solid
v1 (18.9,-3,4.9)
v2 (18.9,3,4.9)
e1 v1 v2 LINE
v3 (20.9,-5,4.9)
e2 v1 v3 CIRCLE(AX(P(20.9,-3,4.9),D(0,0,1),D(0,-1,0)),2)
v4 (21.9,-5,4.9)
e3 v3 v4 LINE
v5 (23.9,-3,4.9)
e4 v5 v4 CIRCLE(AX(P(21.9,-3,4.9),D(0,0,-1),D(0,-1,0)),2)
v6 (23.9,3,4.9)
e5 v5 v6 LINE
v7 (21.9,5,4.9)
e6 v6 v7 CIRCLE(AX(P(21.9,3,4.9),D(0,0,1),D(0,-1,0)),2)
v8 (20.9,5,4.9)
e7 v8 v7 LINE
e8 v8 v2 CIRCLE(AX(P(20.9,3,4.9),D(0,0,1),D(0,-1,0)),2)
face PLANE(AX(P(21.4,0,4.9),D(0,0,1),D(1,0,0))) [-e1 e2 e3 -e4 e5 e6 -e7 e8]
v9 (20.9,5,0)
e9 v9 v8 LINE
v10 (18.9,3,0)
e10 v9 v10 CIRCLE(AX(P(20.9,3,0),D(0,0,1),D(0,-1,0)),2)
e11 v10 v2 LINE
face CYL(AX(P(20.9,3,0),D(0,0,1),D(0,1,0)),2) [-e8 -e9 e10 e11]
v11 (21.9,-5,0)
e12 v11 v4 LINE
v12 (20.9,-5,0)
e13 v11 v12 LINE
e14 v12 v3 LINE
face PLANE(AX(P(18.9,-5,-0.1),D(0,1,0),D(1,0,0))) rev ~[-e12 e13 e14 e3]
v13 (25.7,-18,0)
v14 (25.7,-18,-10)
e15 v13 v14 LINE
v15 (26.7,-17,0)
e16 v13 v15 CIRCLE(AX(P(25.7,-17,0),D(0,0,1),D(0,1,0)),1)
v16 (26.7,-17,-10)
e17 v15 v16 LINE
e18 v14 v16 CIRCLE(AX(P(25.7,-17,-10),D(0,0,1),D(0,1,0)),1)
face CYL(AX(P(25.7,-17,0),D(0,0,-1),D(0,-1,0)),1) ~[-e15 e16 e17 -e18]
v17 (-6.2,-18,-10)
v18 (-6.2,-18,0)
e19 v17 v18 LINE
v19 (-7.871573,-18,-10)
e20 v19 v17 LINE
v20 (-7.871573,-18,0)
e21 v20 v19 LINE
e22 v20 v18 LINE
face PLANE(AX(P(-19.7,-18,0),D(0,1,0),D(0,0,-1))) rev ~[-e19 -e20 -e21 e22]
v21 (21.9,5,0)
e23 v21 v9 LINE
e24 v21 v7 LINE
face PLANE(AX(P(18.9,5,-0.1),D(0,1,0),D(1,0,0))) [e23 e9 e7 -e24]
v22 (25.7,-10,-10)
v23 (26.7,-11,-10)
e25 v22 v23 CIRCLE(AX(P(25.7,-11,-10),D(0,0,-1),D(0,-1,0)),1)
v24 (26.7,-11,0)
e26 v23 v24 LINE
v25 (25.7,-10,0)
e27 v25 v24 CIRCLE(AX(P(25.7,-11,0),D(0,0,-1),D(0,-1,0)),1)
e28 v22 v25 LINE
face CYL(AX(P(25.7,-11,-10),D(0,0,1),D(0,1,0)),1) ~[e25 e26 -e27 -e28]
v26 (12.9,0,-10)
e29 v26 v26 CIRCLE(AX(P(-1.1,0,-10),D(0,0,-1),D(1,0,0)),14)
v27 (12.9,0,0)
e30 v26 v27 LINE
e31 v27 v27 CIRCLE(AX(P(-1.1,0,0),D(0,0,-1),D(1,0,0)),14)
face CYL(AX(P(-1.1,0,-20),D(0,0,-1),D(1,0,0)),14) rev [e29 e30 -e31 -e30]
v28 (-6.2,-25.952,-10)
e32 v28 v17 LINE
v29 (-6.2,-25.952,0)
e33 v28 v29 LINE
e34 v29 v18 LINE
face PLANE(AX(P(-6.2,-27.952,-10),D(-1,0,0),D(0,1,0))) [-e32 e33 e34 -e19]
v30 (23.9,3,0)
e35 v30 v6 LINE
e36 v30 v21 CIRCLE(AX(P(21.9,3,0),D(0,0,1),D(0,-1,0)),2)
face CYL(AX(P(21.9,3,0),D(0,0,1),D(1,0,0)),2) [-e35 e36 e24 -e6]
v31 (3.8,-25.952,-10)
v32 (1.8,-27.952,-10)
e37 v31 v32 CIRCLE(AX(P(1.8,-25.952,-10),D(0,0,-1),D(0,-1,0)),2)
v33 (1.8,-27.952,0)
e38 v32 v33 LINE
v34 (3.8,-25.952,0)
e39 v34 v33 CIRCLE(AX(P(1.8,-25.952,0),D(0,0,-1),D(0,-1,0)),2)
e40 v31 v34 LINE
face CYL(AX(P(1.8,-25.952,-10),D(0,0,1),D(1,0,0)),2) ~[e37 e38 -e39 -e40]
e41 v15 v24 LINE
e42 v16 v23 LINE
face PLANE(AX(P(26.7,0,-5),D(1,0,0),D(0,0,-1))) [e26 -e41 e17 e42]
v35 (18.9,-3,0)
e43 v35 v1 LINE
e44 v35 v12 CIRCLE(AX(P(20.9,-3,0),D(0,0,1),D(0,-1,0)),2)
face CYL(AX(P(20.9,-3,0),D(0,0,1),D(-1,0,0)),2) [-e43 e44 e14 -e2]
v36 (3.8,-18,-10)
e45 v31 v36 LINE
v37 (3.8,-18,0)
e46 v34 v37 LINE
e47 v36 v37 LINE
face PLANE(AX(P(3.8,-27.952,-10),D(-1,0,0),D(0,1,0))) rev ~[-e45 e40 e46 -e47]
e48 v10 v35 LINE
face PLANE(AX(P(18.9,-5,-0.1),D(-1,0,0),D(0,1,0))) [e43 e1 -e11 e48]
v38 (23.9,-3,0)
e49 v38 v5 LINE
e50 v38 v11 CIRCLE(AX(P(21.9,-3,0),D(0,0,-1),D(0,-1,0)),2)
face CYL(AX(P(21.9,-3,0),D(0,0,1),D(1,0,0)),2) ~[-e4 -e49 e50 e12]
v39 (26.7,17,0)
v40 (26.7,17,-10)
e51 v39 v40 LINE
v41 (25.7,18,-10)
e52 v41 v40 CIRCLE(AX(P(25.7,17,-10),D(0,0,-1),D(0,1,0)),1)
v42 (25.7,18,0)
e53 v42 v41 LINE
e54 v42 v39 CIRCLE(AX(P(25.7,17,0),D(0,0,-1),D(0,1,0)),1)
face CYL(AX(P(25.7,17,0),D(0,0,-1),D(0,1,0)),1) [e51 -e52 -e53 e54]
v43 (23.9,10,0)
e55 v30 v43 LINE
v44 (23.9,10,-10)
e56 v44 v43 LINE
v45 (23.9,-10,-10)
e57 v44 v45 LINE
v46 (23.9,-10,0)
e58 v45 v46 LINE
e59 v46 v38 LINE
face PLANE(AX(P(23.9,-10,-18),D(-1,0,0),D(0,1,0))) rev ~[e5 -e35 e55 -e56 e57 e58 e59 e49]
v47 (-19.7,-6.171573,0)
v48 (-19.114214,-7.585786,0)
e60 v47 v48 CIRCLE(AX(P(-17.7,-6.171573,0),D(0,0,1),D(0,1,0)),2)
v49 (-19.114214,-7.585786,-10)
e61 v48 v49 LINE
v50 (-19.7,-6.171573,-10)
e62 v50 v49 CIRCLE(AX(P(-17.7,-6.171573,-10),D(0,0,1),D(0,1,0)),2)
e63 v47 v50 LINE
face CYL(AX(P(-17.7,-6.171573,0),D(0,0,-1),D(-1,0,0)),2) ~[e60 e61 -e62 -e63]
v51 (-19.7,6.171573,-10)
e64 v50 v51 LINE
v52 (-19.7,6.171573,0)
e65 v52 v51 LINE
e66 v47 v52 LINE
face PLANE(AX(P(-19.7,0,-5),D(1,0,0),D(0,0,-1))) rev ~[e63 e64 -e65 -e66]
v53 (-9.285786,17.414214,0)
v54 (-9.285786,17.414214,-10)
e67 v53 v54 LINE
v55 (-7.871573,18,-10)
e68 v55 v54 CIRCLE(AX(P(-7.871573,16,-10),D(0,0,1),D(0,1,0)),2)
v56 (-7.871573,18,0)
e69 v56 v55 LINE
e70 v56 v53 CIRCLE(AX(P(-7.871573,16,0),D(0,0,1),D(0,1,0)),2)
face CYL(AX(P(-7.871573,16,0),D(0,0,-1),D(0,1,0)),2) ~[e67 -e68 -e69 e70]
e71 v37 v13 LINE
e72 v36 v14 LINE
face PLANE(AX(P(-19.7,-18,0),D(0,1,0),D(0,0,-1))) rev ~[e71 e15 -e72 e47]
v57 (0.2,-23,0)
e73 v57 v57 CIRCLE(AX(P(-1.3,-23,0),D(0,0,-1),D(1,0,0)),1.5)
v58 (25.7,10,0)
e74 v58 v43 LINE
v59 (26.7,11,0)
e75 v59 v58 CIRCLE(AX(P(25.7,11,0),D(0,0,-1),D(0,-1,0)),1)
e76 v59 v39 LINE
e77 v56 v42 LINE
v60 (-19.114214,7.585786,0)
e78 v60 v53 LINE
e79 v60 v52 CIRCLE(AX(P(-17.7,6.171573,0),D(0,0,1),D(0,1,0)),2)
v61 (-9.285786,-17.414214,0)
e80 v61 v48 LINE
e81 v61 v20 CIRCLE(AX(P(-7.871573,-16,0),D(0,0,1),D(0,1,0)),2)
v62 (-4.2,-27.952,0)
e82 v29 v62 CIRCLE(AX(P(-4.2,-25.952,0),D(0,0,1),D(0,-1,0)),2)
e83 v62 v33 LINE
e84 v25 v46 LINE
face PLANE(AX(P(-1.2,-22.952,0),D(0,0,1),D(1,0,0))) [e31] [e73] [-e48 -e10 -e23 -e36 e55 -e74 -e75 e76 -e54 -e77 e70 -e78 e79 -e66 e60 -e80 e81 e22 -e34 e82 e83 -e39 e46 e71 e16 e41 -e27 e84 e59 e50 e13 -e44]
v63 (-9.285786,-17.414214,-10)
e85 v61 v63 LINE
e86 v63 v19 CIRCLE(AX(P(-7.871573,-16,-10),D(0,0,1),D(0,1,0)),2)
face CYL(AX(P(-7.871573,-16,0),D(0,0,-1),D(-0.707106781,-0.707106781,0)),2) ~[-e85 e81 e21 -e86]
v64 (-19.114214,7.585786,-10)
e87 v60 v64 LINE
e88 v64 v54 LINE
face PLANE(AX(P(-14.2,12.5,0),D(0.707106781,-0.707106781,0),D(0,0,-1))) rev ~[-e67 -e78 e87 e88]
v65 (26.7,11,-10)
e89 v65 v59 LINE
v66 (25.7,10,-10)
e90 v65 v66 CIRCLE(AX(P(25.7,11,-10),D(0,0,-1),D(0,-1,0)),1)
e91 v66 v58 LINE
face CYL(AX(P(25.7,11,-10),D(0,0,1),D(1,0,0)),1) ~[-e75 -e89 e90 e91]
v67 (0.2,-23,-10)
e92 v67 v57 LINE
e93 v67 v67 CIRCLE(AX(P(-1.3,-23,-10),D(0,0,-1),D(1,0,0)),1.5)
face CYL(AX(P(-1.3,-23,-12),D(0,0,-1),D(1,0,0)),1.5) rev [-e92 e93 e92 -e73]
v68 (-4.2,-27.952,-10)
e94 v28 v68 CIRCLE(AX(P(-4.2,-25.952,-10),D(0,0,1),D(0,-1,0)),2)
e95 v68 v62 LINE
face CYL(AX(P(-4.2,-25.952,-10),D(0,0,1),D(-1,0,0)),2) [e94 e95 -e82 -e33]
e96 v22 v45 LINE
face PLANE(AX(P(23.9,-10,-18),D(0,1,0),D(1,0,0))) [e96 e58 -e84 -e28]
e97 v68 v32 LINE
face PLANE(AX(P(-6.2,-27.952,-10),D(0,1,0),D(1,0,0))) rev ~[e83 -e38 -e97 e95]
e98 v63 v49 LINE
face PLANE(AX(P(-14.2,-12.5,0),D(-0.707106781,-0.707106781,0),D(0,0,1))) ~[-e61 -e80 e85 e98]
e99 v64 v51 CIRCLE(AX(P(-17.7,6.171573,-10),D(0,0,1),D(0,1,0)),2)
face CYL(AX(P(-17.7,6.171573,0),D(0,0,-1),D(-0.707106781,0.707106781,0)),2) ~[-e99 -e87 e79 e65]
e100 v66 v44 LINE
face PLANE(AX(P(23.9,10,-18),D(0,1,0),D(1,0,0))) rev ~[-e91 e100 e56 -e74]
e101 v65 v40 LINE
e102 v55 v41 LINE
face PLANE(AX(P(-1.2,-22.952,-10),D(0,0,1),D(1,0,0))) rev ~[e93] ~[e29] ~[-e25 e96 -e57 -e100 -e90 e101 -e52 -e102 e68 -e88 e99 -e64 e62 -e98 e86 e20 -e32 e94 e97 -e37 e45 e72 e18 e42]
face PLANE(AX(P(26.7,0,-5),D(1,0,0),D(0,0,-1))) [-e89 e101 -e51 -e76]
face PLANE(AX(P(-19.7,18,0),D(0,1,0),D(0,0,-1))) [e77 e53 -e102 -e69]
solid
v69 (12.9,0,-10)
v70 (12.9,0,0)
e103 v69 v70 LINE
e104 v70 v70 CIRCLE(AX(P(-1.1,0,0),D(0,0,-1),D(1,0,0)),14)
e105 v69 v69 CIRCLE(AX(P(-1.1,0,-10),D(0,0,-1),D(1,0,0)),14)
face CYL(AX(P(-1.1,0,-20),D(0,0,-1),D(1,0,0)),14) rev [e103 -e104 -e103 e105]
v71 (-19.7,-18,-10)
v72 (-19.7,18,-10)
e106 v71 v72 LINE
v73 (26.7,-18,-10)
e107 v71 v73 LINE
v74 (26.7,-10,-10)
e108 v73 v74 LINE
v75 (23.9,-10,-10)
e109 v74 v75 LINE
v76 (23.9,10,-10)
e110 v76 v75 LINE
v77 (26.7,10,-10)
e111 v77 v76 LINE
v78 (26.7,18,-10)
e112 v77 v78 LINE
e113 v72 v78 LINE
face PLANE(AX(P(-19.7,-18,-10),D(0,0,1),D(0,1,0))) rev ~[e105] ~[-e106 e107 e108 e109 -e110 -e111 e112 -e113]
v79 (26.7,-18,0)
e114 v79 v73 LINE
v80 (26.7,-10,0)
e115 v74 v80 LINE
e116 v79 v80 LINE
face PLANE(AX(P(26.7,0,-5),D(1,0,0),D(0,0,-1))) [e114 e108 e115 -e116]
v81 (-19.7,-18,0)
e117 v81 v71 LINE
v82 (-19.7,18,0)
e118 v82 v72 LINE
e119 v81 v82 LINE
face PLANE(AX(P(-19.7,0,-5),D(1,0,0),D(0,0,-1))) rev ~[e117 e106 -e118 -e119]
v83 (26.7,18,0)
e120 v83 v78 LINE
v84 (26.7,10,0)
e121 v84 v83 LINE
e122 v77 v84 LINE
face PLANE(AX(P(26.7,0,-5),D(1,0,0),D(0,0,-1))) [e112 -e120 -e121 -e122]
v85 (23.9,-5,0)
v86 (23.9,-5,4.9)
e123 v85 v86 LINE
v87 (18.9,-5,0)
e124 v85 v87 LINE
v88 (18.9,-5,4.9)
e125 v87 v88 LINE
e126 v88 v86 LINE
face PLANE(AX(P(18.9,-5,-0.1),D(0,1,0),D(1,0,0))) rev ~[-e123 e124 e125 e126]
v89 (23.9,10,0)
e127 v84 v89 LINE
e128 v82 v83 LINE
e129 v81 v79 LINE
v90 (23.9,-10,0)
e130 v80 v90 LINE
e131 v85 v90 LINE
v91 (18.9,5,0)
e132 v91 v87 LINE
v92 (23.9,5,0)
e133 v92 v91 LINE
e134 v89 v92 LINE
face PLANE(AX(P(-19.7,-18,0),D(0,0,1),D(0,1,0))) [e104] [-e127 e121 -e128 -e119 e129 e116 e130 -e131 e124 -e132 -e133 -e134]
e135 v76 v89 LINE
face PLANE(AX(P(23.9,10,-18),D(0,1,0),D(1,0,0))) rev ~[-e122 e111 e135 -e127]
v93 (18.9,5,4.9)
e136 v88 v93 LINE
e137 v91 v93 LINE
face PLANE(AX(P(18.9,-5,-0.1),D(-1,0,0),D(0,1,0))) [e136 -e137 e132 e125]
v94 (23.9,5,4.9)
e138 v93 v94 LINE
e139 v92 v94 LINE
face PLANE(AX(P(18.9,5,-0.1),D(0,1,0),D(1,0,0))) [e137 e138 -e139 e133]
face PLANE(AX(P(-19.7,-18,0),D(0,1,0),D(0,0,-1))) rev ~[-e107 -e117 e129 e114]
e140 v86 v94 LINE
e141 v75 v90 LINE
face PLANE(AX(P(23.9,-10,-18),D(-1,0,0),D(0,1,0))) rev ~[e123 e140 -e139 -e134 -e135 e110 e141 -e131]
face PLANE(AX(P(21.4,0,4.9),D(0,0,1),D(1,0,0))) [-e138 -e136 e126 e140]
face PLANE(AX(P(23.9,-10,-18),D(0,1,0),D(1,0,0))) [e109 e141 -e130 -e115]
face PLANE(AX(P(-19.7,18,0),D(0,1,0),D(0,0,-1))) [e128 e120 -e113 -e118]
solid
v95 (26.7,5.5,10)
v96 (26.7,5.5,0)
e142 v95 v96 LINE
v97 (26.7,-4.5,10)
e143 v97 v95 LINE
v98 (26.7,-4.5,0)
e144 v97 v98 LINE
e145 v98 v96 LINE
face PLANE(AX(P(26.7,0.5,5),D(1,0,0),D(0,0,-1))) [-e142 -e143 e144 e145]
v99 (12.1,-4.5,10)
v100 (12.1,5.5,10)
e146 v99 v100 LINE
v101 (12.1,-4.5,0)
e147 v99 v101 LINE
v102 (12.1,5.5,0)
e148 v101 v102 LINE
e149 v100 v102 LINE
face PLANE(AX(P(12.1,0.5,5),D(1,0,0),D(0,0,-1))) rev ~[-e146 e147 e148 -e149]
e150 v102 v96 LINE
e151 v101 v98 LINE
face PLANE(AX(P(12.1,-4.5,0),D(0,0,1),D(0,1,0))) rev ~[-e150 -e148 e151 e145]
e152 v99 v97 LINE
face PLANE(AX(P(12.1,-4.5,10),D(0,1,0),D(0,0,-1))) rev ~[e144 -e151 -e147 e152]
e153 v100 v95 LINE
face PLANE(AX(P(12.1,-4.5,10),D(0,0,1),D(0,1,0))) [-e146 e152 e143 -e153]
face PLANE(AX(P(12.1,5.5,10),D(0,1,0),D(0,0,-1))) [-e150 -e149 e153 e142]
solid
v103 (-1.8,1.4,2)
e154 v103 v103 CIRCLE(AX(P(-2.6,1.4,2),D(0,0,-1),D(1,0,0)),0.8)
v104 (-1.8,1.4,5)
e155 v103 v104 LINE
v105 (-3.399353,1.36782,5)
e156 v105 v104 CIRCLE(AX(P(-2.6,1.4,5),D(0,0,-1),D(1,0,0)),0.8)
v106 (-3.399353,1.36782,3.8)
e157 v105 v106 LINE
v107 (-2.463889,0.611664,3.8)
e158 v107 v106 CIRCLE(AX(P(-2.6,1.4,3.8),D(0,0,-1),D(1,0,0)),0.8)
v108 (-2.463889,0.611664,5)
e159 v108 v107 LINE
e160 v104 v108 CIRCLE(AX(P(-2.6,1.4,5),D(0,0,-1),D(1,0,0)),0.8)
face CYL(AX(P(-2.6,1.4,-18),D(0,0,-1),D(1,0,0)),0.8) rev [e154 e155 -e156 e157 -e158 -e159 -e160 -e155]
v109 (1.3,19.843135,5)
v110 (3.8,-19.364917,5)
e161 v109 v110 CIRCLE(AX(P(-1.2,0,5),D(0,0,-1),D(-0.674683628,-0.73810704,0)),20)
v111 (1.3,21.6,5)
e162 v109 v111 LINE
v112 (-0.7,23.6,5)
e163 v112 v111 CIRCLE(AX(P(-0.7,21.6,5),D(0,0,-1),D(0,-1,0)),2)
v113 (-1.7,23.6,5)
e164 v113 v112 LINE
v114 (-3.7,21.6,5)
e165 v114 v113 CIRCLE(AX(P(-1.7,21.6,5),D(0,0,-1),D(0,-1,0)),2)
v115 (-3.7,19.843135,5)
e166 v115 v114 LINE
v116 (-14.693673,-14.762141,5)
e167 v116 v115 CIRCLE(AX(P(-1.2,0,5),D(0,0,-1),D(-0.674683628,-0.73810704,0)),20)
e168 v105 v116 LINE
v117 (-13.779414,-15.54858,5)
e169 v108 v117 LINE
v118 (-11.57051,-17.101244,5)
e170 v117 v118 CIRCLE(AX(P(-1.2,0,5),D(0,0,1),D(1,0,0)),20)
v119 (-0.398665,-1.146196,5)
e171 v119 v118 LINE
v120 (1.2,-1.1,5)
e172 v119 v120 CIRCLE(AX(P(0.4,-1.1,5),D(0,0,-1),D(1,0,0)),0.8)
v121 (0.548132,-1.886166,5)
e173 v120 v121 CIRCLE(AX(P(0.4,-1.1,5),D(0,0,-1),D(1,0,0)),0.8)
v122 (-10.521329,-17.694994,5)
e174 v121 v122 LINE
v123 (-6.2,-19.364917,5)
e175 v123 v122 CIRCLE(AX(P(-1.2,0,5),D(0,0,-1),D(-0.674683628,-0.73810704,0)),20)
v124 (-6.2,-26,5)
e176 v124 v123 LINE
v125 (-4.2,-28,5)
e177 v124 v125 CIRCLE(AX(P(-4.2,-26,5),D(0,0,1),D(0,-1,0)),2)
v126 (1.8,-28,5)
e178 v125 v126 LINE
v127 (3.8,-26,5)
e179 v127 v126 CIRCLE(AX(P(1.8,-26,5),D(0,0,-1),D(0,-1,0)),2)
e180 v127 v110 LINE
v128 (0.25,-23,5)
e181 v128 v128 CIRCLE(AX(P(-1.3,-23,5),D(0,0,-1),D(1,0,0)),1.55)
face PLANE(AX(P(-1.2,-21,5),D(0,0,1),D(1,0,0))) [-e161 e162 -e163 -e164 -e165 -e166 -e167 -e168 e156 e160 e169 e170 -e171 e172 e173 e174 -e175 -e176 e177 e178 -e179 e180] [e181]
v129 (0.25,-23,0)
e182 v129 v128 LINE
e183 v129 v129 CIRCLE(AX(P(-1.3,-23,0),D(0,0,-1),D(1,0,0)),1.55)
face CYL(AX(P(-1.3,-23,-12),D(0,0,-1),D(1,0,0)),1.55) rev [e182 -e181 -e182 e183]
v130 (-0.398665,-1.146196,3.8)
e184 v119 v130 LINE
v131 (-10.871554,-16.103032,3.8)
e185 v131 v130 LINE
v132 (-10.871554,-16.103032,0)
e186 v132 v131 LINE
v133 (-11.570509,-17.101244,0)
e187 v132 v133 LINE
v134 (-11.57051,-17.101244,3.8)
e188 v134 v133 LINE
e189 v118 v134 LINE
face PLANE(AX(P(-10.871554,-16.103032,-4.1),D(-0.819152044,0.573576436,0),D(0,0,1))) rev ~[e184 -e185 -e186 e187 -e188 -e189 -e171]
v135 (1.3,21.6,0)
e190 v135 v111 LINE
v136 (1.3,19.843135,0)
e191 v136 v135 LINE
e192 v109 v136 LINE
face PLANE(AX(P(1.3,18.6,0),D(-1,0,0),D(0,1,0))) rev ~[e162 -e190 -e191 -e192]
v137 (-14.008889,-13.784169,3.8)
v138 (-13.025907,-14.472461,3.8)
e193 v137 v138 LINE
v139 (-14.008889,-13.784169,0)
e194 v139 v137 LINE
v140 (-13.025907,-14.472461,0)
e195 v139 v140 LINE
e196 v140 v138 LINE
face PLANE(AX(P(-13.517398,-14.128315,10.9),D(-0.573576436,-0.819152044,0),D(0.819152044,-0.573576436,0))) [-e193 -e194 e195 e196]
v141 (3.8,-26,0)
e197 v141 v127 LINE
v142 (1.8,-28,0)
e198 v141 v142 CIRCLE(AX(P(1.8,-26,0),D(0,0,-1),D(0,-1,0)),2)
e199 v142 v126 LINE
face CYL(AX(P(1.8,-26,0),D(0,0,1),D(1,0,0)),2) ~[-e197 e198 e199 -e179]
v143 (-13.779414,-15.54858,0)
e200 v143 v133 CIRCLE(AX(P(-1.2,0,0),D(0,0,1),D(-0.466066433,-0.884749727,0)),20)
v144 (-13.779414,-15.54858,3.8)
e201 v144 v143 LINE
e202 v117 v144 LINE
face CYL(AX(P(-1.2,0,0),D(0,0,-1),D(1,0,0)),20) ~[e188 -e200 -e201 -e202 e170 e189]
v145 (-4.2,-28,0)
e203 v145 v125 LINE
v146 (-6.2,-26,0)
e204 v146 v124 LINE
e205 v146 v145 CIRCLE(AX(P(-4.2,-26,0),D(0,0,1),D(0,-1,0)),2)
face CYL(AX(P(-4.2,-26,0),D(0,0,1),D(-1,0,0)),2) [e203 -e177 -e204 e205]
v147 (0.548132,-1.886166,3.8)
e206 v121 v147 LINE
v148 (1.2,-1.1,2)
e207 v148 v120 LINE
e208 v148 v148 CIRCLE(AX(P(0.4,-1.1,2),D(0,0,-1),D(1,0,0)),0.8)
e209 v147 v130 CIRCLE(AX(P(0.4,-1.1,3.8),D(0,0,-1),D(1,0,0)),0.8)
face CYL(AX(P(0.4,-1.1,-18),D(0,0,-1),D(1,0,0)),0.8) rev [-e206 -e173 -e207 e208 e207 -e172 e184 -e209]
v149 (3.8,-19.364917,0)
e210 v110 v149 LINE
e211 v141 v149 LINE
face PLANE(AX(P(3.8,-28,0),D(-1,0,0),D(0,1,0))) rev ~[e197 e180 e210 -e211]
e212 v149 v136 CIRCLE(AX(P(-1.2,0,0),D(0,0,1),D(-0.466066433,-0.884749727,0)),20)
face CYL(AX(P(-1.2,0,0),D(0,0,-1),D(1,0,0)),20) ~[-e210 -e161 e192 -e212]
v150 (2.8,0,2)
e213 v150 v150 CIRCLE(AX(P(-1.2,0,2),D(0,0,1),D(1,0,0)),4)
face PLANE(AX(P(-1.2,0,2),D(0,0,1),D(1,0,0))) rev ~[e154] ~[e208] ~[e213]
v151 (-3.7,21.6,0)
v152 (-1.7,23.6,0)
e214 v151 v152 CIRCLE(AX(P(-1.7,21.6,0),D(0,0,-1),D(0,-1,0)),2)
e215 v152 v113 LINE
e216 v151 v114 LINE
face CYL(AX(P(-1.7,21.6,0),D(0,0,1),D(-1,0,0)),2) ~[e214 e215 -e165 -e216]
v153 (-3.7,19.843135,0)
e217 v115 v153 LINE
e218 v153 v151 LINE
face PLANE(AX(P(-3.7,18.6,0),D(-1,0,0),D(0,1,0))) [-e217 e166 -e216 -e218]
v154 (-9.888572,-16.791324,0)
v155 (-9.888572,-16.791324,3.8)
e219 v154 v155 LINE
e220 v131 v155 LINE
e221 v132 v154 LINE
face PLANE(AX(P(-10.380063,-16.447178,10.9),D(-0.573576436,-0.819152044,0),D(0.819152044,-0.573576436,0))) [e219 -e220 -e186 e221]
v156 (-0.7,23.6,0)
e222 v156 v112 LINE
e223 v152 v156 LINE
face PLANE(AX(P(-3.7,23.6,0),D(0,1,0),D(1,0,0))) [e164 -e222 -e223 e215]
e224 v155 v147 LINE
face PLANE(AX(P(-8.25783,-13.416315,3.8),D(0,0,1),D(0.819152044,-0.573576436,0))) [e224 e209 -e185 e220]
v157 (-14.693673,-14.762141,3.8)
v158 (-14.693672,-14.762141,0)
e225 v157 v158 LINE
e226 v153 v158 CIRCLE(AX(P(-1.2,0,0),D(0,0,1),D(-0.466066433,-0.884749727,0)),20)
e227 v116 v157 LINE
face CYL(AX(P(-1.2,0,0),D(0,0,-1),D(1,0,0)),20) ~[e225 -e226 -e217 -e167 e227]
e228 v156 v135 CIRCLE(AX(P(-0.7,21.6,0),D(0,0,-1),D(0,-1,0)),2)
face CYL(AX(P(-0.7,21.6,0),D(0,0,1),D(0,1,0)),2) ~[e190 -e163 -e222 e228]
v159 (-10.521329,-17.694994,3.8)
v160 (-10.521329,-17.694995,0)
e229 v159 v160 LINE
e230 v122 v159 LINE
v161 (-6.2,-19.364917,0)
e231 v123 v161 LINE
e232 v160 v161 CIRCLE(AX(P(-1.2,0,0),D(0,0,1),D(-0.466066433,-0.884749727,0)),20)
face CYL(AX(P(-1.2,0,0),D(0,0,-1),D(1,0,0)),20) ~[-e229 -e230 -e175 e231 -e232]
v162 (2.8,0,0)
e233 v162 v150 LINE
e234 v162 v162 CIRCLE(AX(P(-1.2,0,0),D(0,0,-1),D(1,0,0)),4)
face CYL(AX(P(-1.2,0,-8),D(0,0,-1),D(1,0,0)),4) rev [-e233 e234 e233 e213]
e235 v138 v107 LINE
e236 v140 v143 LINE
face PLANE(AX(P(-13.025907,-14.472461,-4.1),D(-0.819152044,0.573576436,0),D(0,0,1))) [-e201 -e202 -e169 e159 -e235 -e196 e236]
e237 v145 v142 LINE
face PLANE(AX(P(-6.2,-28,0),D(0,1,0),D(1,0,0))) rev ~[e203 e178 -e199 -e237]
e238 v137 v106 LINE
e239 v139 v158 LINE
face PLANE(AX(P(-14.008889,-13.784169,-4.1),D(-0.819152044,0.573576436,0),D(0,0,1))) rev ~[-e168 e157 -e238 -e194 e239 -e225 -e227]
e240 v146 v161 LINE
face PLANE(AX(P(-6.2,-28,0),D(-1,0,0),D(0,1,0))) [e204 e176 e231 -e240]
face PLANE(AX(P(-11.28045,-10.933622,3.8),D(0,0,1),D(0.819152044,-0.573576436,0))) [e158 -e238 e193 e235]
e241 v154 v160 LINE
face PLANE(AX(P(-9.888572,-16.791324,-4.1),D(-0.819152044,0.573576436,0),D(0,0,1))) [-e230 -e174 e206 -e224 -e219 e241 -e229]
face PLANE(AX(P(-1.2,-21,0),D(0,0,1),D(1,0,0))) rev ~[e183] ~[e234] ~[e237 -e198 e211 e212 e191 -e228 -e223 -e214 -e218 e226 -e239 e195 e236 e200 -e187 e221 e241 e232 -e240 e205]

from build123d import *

# Parameters (mm, degrees)
BOX001_W               = 10
BOX001_H               = 10
BOX001_DEPTH           = 14.6
BOX004_W               = 5
BOX004_H               = 10
BOX004_DEPTH           = 5
BOX005_W               = 10
BOX005_H               = 20
BOX005_DEPTH           = 20
CYLINDER_R             = 14
CYLINDER_DEPTH         = 40
BOX_W                  = 10
BOX_H                  = 36
BOX_DEPTH              = 46.4
BOX006_W               = 5
BOX006_H               = 5
BOX006_DEPTH           = 5
CYLINDER003_R          = 1.55
CYLINDER003_DEPTH      = 50
BOX003_W               = 10
BOX003_H               = 14
BOX003_DEPTH           = 5
BOX010_W               = 1.2
BOX010_H               = 30
BOX010_DEPTH           = 10
BOX010_ROLL_ANGLE      = 90
BOX010_PLACEMENT_ANGLE = -35
BOX009_W               = 1.2
BOX009_H               = 30
BOX009_DEPTH           = 10
BOX009_ROLL_ANGLE      = 90
BOX009_PLACEMENT_ANGLE = -35
BOX008_W               = 1.2
BOX008_H               = 30
BOX008_DEPTH           = 10
BOX008_PLACEMENT_ANGLE = 325
BOX007_W               = 1.2
BOX007_H               = 30
BOX007_DEPTH           = 10
BOX007_PLACEMENT_ANGLE = 325
CYLINDER006_R          = 0.8
CYLINDER006_DEPTH      = 30
CYLINDER005_R          = 0.8
CYLINDER005_DEPTH      = 30
CYLINDER004_R          = 4
CYLINDER004_DEPTH      = 10
CYLINDER002_R          = 20
CYLINDER002_DEPTH      = 5
FILLET_R               = 2
CYLINDER001_R          = 1.5
CYLINDER001_DEPTH      = 30
BOX002_W               = 10
BOX002_H               = 10
BOX002_DEPTH           = 10
FILLET001_R            = 2
FILLET002_R            = 1
FILLET003_R            = 1
FILLET004_R            = 2
CHAMFER_SIZE           = 11
FILLET005_R            = 2


with BuildPart() as cube001:
    # Box001 → Box001 (new body)
    with BuildSketch(Plane(origin=(12.1, -4.5, 10), x_dir=(0, 0, -1), z_dir=(1, 0, 0))):
        with Locations((5, 5)):
            Rectangle(BOX001_W, BOX001_H)
    extrude(amount=BOX001_DEPTH)


with BuildPart() as swivelstop:
    # Box004 → Box004 (new body)
    with BuildSketch(Plane(origin=(18.9, -5, -0.1), x_dir=(1, 0, 0), z_dir=(0, 0, 1))):
        with Locations((2.5, 5)):
            Rectangle(BOX004_W, BOX004_H)
    extrude(amount=BOX004_DEPTH)


with BuildPart() as footcutout:
    # Box005 → Box005 (new body)
    with BuildSketch(Plane(origin=(23.9, -10, -18), x_dir=(1, 0, 0), z_dir=(0, 0, 1))):
        with Locations((5, 10)):
            Rectangle(BOX005_W, BOX005_H)
    extrude(amount=BOX005_DEPTH)


with BuildPart() as cardboardbarrelholder:
    # Cylinder → Cylinder (new body)
    with BuildSketch(Plane(origin=(-1.1, 0, -20), x_dir=(1, 0, 0), z_dir=(0, 0, 1))):
        Circle(CYLINDER_R)
    extrude(amount=CYLINDER_DEPTH)


with BuildPart() as mainpiece1:
    # Box → Box (new body)
    with BuildSketch(Plane(origin=(-19.7, -18, 0), x_dir=(0, 0, -1), z_dir=(1, 0, 0))):
        with Locations((5, 18)):
            Rectangle(BOX_W, BOX_H)
    extrude(amount=BOX_DEPTH)

    # Cut: cut cardboardBarrelHolder
    add(cardboardbarrelholder.part, mode=Mode.SUBTRACT)

    # Cut001: cut footCutout
    add(footcutout.part, mode=Mode.SUBTRACT)


with BuildPart() as don_tusemainpiece3:
    # Fusion002 base: copy of mainPiece1
    add(mainpiece1.part)

    # Fusion002: union swivelStop
    add(swivelstop.part)


with BuildPart() as shuttermovetab:
    # Box006 → Box006 (new body)
    with BuildSketch(Plane(origin=(-3.7, 18.6, 0), x_dir=(1, 0, 0), z_dir=(0, 0, 1))):
        with Locations((2.5, 2.5)):
            Rectangle(BOX006_W, BOX006_H)
    extrude(amount=BOX006_DEPTH)


with BuildPart() as shuttertabhole:
    # Cylinder003 → Cylinder003 (new body)
    with BuildSketch(Plane(origin=(-1.3, -23, -12), x_dir=(1, 0, 0), z_dir=(0, 0, 1))):
        Circle(CYLINDER003_R)
    extrude(amount=CYLINDER003_DEPTH)


with BuildPart() as shutterhingetab001:
    # Box003 → Box003 (new body)
    with BuildSketch(Plane(origin=(-6.2, -28, 0), x_dir=(1, 0, 0), z_dir=(0, 0, 1))):
        with Locations((5, 7)):
            Rectangle(BOX003_W, BOX003_H)
    extrude(amount=BOX003_DEPTH)

    # Cut009: cut shutterTabHole
    add(shuttertabhole.part, mode=Mode.SUBTRACT)


with BuildPart() as radialtransit4:
    # Box010 → Box010 (new body)
    with BuildSketch(Plane.XY):
        with Locations((0.6, 15)):
            Rectangle(BOX010_W, BOX010_H)
    extrude(amount=BOX010_DEPTH)


with BuildPart() as radialtransit4_1:
    # Box010 roll: moved
    add(radialtransit4.part.rotate(Axis((0, 0, 0), (1, 0, 0)), BOX010_ROLL_ANGLE))


with BuildPart() as radialtransit4_2:
    # Box010 placement: moved
    add(radialtransit4_1.part.moved(Location((-14.008889, -13.784169, -4.1))).rotate(Axis((-14.008889, -13.784169, -4.1), (0, 0, 1)), BOX010_PLACEMENT_ANGLE))


with BuildPart() as radialtransit3:
    # Box009 → Box009 (new body)
    with BuildSketch(Plane.XY):
        with Locations((0.6, 15)):
            Rectangle(BOX009_W, BOX009_H)
    extrude(amount=BOX009_DEPTH)


with BuildPart() as radialtransit3_1:
    # Box009 roll: moved
    add(radialtransit3.part.rotate(Axis((0, 0, 0), (1, 0, 0)), BOX009_ROLL_ANGLE))


with BuildPart() as radialtransit3_2:
    # Box009 placement: moved
    add(radialtransit3_1.part.moved(Location((-10.871554, -16.103032, -4.1))).rotate(Axis((-10.871554, -16.103032, -4.1), (0, 0, 1)), BOX009_PLACEMENT_ANGLE))


with BuildPart() as radialtransit2:
    # Box008 → Box008 (new body)
    with BuildSketch(Plane.XY):
        with Locations((0.6, 15)):
            Rectangle(BOX008_W, BOX008_H)
    extrude(amount=BOX008_DEPTH)


with BuildPart() as radialtransit2_1:
    # Box008 placement: moved
    add(radialtransit2.part.moved(Location((-20.375588, -22.876757, 3.8))).rotate(Axis((-20.375588, -22.876757, 3.8), (0, 0, 1)), BOX008_PLACEMENT_ANGLE))


with BuildPart() as radialtransit1:
    # Box007 → Box007 (new body)
    with BuildSketch(Plane.XY):
        with Locations((0.6, 15)):
            Rectangle(BOX007_W, BOX007_H)
    extrude(amount=BOX007_DEPTH)


with BuildPart() as radialtransit1_1:
    # Box007 placement: moved
    add(radialtransit1.part.moved(Location((-17.352968, -25.35945, 3.8))).rotate(Axis((-17.352968, -25.35945, 3.8), (0, 0, 1)), BOX007_PLACEMENT_ANGLE))


with BuildPart() as cdswire2:
    # Cylinder006 → Cylinder006 (new body)
    with BuildSketch(Plane(origin=(-2.6, 1.4, -18), x_dir=(1, 0, 0), z_dir=(0, 0, 1))):
        Circle(CYLINDER006_R)
    extrude(amount=CYLINDER006_DEPTH)


with BuildPart() as cdswire1:
    # Cylinder005 → Cylinder005 (new body)
    with BuildSketch(Plane(origin=(0.4, -1.1, -18), x_dir=(1, 0, 0), z_dir=(0, 0, 1))):
        Circle(CYLINDER005_R)
    extrude(amount=CYLINDER005_DEPTH)


with BuildPart() as cdsdivot:
    # Cylinder004 → Cylinder004 (new body)
    with BuildSketch(Plane(origin=(-1.2, 0, -8), x_dir=(1, 0, 0), z_dir=(0, 0, 1))):
        Circle(CYLINDER004_R)
    extrude(amount=CYLINDER004_DEPTH)


with BuildPart() as shutter11:
    # Cylinder002 → Cylinder002 (new body)
    with BuildSketch(Plane(origin=(-1.2, 0, 0), x_dir=(1, 0, 0), z_dir=(0, 0, 1))):
        Circle(CYLINDER002_R)
    extrude(amount=CYLINDER002_DEPTH)

    # Cut002: cut CdSDivot
    add(cdsdivot.part, mode=Mode.SUBTRACT)

    # Cut003: cut CdSWire1
    add(cdswire1.part, mode=Mode.SUBTRACT)

    # Cut004: cut CdsWire2
    add(cdswire2.part, mode=Mode.SUBTRACT)

    # Cut005: cut radialTransit1
    add(radialtransit1_1.part, mode=Mode.SUBTRACT)

    # Cut006: cut radialTransit2
    add(radialtransit2_1.part, mode=Mode.SUBTRACT)

    # Cut007: cut radialTransit3
    add(radialtransit3_2.part, mode=Mode.SUBTRACT)

    # Cut008: cut radialTransit4
    add(radialtransit4_2.part, mode=Mode.SUBTRACT)

    # Fusion001: union shutterHingeTab001
    add(shutterhingetab001.part)

    # Fusion003: union shutterMoveTab
    add(shuttermovetab.part)

    # Fillet
    fillet_edges = [shutter11.edges().sort_by_distance(p)[0] for p in [
        (-3.7, 23.6, 2.5),
        (1.3, 23.6, 2.5),
        (3.8, -28, 2.5),
        (-6.2, -28, 2.5),
    ]]
    fillet(fillet_edges, radius=FILLET_R)


with BuildPart() as hingetabhole:
    # Cylinder001 → Cylinder001 (new body)
    with BuildSketch(Plane(origin=(-1.3, -23, -12), x_dir=(1, 0, 0), z_dir=(0, 0, 1))):
        Circle(CYLINDER001_R)
    extrude(amount=CYLINDER001_DEPTH)


with BuildPart() as mainpiecehingetab:
    # Box002 → Box002 (new body)
    with BuildSketch(Plane(origin=(-6.2, -27.952, -10), x_dir=(1, 0, 0), z_dir=(0, 0, 1))):
        with Locations((5, 5)):
            Rectangle(BOX002_W, BOX002_H)
    extrude(amount=BOX002_DEPTH)

    # Cut010: cut hingeTabHole
    add(hingetabhole.part, mode=Mode.SUBTRACT)


with BuildPart() as mainpiecebooleaned10:
    # Fusion base: copy of mainPiece1
    add(mainpiece1.part)

    # Fusion: union mainPieceHingeTab
    add(mainpiecehingetab.part)

    # Fusion004: union swivelStop
    add(swivelstop.part)

    # Fillet001
    fillet001_edges = [mainpiecebooleaned10.edges().sort_by_distance(p)[0] for p in [
        (-6.2, -27.952, -5),
        (3.8, -27.952, -5),
    ]]
    fillet(fillet001_edges, radius=FILLET001_R)

    # Fillet002
    fillet002_edges = [mainpiecebooleaned10.edges().sort_by_distance(p)[0] for p in [
        (26.7, -18, -5),
        (26.7, 18, -5),
    ]]
    fillet(fillet002_edges, radius=FILLET002_R)

    # Fillet003
    fillet003_edges = [mainpiecebooleaned10.edges().sort_by_distance(p)[0] for p in [
        (26.7, -10, -5),
        (26.7, 10, -5),
    ]]
    fillet(fillet003_edges, radius=FILLET003_R)

    # Fillet004
    fillet004_edges = [mainpiecebooleaned10.edges().sort_by_distance(p)[0] for p in [
        (23.9, -5, 2.45),
        (18.9, -5, 2.45),
        (18.9, 5, 2.45),
        (23.9, 5, 2.45),
    ]]
    fillet(fillet004_edges, radius=FILLET004_R)

    # Chamfer
    chamfer_edges = [mainpiecebooleaned10.edges().sort_by_distance(p)[0] for p in [
        (-19.7, -18, -5),
        (-19.7, 18, -5),
    ]]
    chamfer(chamfer_edges, length=CHAMFER_SIZE)

    # Fillet005
    fillet005_edges = [mainpiecebooleaned10.edges().sort_by_distance(p)[0] for p in [
        (-8.7, -18, -5),
        (-19.7, -7, -5),
        (-19.7, 7, -5),
        (-8.7, 18, -5),
    ]]
    fillet(fillet005_edges, radius=FILLET005_R)


solid = Compound([cube001.part, don_tusemainpiece3.part, shutter11.part, mainpiecebooleaned10.part])
